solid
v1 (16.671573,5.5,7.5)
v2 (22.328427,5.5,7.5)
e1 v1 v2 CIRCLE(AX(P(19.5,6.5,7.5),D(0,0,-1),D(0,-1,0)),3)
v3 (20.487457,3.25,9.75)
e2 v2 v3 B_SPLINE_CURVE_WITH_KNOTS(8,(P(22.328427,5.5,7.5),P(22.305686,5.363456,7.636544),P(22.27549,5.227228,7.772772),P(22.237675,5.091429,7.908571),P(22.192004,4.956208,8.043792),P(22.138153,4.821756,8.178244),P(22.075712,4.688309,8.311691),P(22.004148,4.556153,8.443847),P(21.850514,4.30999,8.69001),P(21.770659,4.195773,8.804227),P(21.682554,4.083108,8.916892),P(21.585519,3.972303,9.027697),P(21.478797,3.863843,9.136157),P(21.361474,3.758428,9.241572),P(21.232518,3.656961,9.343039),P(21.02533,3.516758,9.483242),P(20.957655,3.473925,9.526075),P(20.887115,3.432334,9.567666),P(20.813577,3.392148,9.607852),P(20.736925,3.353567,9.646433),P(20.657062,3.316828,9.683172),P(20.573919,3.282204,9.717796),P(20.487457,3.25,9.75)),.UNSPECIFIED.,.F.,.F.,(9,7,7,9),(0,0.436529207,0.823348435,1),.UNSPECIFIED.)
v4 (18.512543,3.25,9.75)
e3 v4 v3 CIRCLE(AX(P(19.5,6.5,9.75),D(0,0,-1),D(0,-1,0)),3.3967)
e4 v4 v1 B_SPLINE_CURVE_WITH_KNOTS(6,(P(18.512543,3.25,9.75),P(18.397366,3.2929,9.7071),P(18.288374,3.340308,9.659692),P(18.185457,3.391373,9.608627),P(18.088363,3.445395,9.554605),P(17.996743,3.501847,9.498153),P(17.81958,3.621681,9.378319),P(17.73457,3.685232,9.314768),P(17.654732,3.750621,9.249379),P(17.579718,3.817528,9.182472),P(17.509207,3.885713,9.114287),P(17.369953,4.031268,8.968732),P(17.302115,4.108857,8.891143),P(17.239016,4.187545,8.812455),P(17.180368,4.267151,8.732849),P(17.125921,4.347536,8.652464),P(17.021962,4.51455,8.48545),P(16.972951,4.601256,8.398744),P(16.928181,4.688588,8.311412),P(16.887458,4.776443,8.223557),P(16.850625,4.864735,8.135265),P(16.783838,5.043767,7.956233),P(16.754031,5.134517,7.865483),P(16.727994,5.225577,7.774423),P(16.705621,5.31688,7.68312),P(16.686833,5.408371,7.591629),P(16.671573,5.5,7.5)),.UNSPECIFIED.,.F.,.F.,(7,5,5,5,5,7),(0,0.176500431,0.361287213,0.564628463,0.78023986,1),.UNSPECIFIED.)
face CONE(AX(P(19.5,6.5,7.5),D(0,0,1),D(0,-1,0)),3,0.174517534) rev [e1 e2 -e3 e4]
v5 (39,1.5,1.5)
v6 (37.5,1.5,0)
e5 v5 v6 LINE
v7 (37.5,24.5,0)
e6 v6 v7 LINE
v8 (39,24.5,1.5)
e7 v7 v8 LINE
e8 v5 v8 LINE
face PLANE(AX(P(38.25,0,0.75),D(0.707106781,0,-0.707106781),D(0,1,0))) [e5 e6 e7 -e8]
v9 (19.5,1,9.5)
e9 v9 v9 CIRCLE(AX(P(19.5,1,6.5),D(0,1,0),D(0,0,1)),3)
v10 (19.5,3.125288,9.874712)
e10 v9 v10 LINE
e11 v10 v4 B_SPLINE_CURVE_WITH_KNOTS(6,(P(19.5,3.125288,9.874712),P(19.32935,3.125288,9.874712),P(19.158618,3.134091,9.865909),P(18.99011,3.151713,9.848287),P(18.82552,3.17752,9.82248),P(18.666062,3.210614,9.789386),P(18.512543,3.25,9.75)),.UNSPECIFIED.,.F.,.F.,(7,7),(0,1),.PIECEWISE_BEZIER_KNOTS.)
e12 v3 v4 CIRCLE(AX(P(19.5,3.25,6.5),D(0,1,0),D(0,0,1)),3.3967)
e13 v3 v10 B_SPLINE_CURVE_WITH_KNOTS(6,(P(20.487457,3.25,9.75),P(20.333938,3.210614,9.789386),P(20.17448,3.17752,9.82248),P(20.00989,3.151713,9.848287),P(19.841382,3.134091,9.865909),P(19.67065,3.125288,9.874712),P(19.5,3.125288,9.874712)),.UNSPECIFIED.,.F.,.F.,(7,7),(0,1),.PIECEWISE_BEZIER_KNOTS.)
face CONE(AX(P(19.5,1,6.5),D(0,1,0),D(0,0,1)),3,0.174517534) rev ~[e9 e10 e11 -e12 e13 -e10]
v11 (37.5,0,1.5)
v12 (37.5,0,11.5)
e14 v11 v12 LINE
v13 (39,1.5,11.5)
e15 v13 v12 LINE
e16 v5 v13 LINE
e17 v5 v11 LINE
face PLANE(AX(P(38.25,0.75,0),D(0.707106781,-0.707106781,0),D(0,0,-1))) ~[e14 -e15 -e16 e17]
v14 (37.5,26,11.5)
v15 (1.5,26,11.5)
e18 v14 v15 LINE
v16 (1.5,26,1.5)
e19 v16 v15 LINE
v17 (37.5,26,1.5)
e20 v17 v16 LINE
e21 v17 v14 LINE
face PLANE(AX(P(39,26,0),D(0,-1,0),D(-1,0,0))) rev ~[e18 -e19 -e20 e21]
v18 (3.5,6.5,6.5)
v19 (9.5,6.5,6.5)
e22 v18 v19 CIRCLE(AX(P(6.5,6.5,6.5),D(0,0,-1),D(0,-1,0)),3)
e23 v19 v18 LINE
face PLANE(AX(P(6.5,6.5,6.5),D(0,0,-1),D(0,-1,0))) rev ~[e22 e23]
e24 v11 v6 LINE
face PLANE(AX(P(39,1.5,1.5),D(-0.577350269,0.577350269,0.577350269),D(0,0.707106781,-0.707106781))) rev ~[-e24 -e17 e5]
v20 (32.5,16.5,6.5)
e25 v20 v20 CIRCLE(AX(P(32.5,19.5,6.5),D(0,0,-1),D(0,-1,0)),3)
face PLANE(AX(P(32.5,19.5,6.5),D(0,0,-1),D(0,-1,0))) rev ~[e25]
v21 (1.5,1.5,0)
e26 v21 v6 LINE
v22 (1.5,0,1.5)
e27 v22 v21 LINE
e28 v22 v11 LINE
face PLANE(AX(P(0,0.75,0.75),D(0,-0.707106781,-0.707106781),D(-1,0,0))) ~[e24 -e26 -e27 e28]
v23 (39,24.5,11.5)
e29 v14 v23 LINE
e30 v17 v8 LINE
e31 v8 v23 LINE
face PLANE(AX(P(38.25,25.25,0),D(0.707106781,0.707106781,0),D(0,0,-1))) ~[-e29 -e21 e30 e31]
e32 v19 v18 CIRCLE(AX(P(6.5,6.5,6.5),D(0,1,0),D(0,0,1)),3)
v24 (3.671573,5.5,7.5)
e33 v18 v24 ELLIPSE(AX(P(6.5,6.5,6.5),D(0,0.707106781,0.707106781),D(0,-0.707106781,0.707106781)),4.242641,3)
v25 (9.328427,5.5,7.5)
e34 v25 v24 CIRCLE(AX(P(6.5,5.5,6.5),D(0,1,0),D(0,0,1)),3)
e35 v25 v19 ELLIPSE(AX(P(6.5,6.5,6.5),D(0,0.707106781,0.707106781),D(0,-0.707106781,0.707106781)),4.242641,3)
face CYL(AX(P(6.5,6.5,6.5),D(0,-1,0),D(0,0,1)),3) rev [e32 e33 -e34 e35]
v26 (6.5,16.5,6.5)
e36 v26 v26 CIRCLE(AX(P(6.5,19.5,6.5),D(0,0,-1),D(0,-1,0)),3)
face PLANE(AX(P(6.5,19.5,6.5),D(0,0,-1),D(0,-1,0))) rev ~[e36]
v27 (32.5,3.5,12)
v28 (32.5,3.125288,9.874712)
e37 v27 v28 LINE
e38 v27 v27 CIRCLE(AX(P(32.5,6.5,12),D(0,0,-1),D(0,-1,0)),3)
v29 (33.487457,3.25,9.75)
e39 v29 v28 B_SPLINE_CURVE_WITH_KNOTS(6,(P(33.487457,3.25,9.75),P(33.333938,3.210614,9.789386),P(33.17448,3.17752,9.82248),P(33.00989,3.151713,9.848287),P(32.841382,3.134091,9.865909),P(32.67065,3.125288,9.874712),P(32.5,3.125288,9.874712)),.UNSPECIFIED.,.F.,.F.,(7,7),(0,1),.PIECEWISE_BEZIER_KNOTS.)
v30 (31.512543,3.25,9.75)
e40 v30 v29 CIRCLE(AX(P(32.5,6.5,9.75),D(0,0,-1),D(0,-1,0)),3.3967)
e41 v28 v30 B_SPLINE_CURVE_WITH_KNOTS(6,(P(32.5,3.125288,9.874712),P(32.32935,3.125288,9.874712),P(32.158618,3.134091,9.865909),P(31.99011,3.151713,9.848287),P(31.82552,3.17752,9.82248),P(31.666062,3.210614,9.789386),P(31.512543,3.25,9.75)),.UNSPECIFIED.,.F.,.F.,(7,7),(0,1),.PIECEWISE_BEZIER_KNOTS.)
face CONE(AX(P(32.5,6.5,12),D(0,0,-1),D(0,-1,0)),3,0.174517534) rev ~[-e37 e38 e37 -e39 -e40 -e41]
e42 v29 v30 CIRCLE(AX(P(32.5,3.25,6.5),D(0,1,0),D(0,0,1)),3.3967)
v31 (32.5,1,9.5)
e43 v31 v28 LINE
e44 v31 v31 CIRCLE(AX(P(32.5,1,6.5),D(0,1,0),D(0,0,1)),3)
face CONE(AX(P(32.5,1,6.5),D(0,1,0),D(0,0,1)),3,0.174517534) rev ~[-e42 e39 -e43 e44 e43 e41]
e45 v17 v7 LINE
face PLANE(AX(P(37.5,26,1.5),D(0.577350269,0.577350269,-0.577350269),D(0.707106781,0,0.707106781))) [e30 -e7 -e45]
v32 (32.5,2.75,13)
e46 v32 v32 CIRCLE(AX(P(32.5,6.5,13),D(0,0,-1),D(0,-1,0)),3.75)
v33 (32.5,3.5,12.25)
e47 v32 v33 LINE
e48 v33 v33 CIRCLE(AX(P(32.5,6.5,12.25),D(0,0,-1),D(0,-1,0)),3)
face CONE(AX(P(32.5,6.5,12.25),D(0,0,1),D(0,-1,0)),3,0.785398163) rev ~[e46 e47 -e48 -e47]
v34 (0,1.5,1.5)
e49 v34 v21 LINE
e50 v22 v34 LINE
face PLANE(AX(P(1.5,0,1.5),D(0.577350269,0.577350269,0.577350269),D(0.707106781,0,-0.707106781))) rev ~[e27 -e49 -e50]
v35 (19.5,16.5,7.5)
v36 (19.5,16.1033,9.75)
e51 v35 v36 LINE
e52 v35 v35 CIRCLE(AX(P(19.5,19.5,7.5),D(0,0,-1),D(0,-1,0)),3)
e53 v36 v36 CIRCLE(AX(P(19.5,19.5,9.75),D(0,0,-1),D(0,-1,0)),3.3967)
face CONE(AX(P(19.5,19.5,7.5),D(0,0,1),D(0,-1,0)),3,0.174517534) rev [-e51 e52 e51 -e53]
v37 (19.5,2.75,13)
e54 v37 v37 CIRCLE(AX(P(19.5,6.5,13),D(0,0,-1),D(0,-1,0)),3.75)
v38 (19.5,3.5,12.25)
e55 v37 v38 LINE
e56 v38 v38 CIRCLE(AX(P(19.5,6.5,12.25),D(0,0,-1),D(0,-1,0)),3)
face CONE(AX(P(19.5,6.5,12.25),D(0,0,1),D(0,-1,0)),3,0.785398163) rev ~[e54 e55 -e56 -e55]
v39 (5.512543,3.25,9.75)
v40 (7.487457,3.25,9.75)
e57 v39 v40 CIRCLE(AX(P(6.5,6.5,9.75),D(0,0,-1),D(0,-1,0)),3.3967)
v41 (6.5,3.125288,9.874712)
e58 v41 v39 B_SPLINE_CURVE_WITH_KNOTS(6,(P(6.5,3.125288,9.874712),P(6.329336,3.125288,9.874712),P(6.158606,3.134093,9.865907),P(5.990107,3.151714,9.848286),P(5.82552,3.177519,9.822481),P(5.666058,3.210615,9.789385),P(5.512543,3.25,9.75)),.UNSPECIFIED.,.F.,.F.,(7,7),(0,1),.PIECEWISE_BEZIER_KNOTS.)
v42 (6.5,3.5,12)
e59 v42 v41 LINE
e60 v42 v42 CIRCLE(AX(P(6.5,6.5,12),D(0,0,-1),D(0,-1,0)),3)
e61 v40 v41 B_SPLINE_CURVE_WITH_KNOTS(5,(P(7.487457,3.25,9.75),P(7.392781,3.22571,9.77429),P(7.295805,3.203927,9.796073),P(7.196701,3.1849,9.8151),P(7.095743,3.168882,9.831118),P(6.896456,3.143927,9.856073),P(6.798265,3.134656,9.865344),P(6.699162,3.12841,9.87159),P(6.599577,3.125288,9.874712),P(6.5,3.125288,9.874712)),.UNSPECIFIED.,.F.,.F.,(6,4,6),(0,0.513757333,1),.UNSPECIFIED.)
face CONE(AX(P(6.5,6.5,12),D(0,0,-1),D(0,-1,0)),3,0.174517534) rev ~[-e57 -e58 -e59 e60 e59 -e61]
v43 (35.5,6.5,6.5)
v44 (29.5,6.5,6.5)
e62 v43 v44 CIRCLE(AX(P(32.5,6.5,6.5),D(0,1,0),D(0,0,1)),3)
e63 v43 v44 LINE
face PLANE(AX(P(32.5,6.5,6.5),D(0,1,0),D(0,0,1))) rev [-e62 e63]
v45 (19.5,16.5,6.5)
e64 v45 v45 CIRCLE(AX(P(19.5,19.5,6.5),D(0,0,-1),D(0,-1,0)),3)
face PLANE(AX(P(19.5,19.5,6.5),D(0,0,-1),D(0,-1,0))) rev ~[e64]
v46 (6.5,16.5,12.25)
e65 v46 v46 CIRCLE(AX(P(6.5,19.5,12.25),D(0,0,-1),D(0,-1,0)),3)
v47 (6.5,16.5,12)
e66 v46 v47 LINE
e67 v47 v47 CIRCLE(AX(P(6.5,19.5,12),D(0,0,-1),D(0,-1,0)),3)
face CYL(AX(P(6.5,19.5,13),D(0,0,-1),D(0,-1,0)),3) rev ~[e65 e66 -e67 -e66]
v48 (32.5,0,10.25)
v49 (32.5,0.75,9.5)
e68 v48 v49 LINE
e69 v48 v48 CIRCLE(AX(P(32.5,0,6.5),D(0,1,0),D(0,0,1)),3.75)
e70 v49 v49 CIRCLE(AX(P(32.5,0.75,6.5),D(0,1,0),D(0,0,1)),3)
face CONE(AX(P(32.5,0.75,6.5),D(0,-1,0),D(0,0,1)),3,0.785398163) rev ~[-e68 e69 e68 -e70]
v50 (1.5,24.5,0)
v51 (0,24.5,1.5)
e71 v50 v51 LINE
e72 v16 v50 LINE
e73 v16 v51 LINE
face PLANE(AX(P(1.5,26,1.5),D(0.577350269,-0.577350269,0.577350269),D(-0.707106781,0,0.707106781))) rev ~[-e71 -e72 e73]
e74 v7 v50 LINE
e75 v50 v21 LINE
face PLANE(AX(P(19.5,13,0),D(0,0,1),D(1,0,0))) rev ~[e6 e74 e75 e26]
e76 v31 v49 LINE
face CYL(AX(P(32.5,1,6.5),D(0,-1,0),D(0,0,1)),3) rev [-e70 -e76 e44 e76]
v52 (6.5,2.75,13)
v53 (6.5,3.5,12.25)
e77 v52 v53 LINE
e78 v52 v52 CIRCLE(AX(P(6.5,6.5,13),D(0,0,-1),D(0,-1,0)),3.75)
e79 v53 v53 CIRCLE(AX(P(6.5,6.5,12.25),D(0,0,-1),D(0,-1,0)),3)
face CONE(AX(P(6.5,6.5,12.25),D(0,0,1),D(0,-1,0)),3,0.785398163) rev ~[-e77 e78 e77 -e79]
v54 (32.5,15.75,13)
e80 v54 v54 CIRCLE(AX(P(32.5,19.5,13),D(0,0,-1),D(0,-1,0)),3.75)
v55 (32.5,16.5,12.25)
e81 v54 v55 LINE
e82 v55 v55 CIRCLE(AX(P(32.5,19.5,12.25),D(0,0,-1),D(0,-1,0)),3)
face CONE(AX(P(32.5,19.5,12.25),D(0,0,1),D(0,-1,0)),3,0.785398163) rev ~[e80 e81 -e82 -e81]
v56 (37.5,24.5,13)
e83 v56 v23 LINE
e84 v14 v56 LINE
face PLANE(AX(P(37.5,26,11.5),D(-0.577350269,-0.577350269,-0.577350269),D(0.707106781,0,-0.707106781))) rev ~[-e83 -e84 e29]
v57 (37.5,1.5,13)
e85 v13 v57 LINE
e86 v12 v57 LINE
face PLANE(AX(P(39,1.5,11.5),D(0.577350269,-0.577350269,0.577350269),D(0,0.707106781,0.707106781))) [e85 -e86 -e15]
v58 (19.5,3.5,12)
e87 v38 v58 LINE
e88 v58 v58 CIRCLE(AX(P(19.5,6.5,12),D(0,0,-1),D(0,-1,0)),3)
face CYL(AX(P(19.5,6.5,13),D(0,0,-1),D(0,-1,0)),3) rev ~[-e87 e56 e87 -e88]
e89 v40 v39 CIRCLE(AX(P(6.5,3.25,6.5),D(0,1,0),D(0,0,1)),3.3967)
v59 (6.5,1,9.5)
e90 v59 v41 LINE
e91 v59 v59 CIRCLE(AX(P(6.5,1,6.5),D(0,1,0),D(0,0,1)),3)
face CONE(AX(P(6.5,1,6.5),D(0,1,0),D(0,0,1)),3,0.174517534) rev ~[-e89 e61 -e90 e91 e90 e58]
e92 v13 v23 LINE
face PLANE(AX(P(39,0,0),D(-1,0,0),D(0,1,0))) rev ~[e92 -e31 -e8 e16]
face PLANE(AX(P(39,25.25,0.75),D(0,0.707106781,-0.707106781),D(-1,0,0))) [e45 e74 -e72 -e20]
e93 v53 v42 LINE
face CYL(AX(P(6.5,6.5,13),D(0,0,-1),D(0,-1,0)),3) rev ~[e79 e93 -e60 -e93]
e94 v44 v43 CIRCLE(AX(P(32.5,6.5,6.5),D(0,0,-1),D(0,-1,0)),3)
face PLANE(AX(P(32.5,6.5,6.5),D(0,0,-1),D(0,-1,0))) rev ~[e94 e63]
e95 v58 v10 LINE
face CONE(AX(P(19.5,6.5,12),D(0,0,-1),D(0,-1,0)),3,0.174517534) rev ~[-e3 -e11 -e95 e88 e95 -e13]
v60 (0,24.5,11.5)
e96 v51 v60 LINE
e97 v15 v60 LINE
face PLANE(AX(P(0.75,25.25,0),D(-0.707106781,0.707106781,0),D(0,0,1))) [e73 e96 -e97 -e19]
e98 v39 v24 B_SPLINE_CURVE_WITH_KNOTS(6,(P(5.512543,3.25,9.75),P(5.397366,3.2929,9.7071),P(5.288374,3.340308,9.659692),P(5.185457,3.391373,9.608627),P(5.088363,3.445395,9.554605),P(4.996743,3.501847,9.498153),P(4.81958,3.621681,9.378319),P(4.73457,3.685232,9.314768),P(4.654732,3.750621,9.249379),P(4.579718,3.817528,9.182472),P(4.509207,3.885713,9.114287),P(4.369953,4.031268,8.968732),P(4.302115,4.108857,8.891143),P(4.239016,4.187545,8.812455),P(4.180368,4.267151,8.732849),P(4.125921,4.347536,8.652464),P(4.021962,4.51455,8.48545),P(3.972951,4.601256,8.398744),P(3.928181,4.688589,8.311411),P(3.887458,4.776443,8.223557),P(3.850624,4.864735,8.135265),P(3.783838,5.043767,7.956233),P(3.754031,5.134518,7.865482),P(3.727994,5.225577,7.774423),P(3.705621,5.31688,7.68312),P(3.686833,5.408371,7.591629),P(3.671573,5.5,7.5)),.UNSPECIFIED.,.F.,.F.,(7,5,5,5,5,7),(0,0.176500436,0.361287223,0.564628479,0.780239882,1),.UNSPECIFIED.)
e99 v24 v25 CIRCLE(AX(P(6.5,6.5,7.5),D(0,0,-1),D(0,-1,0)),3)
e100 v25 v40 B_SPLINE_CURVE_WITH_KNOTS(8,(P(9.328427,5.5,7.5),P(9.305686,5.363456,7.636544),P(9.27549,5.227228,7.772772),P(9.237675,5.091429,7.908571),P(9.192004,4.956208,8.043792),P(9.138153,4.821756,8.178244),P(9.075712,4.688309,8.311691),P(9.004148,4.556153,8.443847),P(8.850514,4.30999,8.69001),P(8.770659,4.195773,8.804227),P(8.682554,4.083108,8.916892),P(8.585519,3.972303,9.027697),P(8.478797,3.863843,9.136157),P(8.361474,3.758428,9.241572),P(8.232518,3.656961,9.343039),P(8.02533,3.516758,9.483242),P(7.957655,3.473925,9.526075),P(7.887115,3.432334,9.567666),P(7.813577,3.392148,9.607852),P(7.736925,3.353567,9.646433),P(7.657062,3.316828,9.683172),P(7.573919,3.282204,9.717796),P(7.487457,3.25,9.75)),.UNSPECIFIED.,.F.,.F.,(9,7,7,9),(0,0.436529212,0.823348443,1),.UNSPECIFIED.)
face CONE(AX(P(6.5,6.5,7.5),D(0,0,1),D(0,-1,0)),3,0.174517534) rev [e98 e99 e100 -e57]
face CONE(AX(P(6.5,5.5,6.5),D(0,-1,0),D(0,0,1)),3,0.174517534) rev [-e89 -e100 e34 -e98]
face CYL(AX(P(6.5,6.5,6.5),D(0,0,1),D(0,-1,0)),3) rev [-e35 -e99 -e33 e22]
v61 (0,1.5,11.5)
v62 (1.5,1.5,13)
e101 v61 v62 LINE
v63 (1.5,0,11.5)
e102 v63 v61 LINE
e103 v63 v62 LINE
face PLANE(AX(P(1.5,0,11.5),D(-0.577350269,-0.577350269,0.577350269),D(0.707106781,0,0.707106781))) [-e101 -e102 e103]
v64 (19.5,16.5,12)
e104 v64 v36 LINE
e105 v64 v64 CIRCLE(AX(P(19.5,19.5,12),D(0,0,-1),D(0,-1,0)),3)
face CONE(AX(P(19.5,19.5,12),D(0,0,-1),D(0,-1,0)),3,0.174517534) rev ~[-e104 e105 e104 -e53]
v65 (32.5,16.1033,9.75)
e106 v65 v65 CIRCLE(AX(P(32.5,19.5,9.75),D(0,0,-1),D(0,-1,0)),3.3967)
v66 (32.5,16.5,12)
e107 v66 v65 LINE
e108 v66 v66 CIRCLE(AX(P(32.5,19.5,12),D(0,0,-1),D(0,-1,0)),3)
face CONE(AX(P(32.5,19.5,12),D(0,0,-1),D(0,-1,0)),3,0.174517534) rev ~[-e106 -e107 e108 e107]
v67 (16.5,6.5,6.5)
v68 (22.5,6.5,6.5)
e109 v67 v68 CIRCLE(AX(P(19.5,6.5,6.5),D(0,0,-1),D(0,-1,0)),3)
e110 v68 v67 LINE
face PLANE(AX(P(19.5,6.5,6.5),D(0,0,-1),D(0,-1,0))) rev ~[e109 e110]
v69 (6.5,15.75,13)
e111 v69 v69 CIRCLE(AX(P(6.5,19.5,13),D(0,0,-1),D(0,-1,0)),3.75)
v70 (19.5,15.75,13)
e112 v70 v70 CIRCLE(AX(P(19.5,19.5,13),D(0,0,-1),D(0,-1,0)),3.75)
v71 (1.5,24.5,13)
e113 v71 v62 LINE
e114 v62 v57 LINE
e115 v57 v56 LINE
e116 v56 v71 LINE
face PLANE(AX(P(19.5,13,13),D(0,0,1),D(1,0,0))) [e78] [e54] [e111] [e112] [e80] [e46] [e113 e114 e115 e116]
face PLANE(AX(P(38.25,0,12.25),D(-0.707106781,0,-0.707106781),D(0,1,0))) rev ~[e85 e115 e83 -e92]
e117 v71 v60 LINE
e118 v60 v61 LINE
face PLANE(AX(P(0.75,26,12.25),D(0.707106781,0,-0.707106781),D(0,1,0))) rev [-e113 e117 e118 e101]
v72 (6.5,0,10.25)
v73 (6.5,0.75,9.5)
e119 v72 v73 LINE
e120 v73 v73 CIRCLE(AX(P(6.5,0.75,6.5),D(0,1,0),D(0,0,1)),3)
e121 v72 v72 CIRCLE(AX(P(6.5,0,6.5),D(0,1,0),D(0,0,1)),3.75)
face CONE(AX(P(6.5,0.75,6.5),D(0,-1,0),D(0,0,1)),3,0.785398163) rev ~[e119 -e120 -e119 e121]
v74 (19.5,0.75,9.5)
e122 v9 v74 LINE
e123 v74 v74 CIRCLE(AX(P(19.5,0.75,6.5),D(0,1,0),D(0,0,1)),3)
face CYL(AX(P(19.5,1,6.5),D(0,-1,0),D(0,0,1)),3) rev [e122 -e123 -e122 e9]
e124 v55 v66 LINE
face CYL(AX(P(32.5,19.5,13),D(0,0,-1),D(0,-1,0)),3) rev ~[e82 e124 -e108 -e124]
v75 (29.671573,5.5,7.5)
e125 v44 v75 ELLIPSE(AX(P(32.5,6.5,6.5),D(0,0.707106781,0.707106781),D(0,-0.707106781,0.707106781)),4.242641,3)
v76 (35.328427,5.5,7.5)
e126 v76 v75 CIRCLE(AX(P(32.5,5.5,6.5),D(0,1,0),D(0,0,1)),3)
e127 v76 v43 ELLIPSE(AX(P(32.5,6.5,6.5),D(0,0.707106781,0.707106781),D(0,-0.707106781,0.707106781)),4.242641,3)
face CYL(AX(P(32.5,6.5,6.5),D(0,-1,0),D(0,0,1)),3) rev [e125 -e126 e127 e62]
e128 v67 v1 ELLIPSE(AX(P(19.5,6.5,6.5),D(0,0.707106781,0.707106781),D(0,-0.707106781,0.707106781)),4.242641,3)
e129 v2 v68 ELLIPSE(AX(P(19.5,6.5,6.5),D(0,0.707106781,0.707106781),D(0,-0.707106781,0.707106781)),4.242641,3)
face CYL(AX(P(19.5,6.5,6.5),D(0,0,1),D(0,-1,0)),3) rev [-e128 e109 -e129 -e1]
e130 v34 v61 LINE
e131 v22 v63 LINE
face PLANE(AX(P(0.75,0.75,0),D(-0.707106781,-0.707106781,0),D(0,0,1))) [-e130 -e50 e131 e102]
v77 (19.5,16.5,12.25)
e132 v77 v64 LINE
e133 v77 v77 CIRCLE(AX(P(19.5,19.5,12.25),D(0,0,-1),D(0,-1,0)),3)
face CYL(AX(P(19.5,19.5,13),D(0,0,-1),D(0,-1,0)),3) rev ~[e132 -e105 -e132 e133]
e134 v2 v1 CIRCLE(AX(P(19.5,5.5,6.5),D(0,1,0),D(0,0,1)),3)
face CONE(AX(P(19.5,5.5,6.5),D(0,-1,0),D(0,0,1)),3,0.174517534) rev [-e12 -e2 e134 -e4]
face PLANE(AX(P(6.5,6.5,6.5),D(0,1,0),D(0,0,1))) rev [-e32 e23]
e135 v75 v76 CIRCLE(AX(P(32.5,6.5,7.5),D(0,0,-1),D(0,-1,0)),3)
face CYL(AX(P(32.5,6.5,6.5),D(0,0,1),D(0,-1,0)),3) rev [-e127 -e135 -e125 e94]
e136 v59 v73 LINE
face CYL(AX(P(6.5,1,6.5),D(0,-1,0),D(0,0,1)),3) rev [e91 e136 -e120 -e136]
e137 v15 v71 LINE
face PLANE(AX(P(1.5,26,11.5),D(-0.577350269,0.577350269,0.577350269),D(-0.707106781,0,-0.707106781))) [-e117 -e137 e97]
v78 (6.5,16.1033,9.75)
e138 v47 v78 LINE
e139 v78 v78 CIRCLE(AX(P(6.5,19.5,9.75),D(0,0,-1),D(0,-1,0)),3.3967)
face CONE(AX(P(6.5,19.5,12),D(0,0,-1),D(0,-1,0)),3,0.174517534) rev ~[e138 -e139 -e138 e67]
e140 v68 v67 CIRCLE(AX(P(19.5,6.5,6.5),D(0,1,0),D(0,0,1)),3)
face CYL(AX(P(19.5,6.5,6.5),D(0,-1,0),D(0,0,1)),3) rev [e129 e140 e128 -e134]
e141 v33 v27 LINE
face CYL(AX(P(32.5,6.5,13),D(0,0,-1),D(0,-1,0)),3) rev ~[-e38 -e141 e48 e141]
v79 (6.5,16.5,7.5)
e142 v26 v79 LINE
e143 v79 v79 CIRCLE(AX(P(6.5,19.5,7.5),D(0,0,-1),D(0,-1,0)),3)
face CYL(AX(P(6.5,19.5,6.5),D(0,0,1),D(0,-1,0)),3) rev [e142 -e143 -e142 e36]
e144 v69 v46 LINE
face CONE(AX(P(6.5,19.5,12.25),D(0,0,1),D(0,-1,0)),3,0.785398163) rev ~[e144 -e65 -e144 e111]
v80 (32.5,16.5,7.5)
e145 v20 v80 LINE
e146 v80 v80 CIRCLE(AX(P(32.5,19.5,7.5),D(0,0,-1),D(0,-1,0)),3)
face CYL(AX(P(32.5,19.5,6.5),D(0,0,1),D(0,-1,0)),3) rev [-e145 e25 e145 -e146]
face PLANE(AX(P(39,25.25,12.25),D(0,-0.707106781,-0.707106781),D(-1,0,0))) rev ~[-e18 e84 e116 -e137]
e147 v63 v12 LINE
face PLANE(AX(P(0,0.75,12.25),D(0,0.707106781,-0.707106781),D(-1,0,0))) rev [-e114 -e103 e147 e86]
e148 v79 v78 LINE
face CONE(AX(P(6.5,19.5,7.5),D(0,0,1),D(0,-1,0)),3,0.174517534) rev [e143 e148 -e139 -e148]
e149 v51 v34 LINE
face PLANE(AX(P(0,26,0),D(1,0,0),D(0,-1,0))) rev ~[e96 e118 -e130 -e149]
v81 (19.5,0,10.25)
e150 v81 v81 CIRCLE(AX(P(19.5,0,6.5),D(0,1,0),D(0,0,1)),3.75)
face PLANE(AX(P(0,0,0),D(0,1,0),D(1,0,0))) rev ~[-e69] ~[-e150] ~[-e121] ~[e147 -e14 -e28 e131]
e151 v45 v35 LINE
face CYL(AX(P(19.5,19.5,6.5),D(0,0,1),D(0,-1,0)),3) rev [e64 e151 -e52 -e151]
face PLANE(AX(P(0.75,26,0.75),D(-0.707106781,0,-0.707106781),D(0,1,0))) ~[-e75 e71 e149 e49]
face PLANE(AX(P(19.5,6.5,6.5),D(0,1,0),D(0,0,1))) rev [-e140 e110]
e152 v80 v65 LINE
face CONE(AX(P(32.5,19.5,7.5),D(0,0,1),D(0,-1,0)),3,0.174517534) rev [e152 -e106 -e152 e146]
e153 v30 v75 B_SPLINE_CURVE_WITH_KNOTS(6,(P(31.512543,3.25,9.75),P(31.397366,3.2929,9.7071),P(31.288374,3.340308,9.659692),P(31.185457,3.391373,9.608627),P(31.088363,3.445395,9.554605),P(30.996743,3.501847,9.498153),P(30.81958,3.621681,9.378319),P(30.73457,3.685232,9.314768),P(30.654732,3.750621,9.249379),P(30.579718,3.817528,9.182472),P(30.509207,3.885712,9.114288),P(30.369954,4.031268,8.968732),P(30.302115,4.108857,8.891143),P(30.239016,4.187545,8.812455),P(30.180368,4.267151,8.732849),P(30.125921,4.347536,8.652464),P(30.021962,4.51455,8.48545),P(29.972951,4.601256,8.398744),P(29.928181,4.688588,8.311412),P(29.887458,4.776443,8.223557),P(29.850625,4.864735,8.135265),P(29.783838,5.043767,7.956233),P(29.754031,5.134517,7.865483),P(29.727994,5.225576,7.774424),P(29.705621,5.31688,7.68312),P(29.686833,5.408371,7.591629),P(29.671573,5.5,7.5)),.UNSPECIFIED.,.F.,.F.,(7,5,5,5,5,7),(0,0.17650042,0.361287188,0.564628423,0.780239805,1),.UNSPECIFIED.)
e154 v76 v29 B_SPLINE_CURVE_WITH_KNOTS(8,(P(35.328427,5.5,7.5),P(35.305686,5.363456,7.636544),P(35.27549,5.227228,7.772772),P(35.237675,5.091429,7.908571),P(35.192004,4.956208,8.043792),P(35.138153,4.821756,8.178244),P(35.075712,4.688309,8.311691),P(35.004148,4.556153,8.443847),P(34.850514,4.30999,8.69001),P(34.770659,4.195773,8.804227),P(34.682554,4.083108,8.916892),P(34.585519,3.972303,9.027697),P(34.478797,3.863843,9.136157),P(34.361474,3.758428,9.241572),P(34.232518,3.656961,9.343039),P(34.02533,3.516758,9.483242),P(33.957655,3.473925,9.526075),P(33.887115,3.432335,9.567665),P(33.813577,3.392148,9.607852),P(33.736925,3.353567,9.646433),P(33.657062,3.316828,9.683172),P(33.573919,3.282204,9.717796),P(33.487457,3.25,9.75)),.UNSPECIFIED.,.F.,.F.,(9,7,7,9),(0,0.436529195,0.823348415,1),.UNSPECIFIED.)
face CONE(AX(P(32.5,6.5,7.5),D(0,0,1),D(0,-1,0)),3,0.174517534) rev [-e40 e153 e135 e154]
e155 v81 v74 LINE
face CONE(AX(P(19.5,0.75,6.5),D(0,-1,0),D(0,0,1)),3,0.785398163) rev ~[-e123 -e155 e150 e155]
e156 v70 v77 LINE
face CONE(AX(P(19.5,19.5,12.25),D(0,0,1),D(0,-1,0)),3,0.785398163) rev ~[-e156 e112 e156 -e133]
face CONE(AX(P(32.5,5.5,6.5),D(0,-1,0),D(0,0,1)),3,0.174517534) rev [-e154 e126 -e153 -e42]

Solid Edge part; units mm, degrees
sketch "Sketch1" plane through (0, 0, 0) normal (0, 0, 1) x (1, 0, 0)
  line L0 (39, 0) -> (39, 26)
  line L1 (39, 26) -> (0, 26)
  line L2 (0, 26) -> (0, 0)
  line L3 (0, 0) -> (39, 0)
extrude "Protrusion1" add sketch "Sketch1" along normal blind 13
sketch "Sketch2" plane through (6.5, 32.5, 6.5) normal (-1, 0, 0) x (0, -1, 0)
  line L0 (29, 6.5) -> (26, 6.5)
  line L1 (26, 6.5) -> (26, 0)
  line L2 (29, 0) -> (26, 0)
  line L3 (29, 0) -> (29, 1)
  line L4 (29, 1) -> (29.3967, 3.25)
  line L5 (29, 5.5) -> (29.3967, 3.25)
  line L6 (29, 6.5) -> (29, 5.5)
revolve "RevolvedCutout1" cut sketch "Sketch2" angle 360 about axis through (6.5, 6.5, 13) along (0, 0, -1)
chamfer "Chaflán_1" distance 0.75 angle 45 1 edges at (3.5, 6.5, 13)
pattern_linear "Pattern1" count 2 spacing 13 along (0, 1, 0) count 3 spacing 13 along (1, 0, 0) of "RevolvedCutout1", "Chaflán_1"
sketch "Sketch3" plane through (6.5, 32.5, 6.5) normal (-1, 0, 0) x (0, -1, 0)
  line L0 (31.5, 3) -> (32.5, 3)
  line L1 (32.5, 3) -> (32.5, 0)
  line L2 (32.5, 0) -> (31.5, 0)
  line L3 (31.5, 0) -> (26, 0)
  line L4 (26, 0) -> (26, 3)
  line L5 (26, 3) -> (27, 3)
  line L6 (27, 3) -> (29.25, 3.3967)
  line L7 (31.5, 3) -> (29.25, 3.3967)
revolve "RevolvedCutout2" cut sketch "Sketch3" angle 360 about axis through (6.5, 1, 6.5) along (0, 1, 0)
chamfer "Chaflán_2" distance 0.75 angle 45 1 edges at (6.5, 0, 3.5)
pattern_linear "Pattern3" count 3 spacing 13 along (1, 0, 0) of "RevolvedCutout2", "Chaflán_2"
chamfer "Chaflán_531" distance 1.5 angle 45 12 edges at (0, 13, 13) (0, 13, 0) (0, 0, 6.5) (19.5, 0, 13) (19.5, 0, 0) (39, 0, 6.5) (39, 13, 13) (39, 13, 0) (19.5, 26, 13) (19.5, 26, 0) (39, 26, 6.5) (0, 26, 6.5)
